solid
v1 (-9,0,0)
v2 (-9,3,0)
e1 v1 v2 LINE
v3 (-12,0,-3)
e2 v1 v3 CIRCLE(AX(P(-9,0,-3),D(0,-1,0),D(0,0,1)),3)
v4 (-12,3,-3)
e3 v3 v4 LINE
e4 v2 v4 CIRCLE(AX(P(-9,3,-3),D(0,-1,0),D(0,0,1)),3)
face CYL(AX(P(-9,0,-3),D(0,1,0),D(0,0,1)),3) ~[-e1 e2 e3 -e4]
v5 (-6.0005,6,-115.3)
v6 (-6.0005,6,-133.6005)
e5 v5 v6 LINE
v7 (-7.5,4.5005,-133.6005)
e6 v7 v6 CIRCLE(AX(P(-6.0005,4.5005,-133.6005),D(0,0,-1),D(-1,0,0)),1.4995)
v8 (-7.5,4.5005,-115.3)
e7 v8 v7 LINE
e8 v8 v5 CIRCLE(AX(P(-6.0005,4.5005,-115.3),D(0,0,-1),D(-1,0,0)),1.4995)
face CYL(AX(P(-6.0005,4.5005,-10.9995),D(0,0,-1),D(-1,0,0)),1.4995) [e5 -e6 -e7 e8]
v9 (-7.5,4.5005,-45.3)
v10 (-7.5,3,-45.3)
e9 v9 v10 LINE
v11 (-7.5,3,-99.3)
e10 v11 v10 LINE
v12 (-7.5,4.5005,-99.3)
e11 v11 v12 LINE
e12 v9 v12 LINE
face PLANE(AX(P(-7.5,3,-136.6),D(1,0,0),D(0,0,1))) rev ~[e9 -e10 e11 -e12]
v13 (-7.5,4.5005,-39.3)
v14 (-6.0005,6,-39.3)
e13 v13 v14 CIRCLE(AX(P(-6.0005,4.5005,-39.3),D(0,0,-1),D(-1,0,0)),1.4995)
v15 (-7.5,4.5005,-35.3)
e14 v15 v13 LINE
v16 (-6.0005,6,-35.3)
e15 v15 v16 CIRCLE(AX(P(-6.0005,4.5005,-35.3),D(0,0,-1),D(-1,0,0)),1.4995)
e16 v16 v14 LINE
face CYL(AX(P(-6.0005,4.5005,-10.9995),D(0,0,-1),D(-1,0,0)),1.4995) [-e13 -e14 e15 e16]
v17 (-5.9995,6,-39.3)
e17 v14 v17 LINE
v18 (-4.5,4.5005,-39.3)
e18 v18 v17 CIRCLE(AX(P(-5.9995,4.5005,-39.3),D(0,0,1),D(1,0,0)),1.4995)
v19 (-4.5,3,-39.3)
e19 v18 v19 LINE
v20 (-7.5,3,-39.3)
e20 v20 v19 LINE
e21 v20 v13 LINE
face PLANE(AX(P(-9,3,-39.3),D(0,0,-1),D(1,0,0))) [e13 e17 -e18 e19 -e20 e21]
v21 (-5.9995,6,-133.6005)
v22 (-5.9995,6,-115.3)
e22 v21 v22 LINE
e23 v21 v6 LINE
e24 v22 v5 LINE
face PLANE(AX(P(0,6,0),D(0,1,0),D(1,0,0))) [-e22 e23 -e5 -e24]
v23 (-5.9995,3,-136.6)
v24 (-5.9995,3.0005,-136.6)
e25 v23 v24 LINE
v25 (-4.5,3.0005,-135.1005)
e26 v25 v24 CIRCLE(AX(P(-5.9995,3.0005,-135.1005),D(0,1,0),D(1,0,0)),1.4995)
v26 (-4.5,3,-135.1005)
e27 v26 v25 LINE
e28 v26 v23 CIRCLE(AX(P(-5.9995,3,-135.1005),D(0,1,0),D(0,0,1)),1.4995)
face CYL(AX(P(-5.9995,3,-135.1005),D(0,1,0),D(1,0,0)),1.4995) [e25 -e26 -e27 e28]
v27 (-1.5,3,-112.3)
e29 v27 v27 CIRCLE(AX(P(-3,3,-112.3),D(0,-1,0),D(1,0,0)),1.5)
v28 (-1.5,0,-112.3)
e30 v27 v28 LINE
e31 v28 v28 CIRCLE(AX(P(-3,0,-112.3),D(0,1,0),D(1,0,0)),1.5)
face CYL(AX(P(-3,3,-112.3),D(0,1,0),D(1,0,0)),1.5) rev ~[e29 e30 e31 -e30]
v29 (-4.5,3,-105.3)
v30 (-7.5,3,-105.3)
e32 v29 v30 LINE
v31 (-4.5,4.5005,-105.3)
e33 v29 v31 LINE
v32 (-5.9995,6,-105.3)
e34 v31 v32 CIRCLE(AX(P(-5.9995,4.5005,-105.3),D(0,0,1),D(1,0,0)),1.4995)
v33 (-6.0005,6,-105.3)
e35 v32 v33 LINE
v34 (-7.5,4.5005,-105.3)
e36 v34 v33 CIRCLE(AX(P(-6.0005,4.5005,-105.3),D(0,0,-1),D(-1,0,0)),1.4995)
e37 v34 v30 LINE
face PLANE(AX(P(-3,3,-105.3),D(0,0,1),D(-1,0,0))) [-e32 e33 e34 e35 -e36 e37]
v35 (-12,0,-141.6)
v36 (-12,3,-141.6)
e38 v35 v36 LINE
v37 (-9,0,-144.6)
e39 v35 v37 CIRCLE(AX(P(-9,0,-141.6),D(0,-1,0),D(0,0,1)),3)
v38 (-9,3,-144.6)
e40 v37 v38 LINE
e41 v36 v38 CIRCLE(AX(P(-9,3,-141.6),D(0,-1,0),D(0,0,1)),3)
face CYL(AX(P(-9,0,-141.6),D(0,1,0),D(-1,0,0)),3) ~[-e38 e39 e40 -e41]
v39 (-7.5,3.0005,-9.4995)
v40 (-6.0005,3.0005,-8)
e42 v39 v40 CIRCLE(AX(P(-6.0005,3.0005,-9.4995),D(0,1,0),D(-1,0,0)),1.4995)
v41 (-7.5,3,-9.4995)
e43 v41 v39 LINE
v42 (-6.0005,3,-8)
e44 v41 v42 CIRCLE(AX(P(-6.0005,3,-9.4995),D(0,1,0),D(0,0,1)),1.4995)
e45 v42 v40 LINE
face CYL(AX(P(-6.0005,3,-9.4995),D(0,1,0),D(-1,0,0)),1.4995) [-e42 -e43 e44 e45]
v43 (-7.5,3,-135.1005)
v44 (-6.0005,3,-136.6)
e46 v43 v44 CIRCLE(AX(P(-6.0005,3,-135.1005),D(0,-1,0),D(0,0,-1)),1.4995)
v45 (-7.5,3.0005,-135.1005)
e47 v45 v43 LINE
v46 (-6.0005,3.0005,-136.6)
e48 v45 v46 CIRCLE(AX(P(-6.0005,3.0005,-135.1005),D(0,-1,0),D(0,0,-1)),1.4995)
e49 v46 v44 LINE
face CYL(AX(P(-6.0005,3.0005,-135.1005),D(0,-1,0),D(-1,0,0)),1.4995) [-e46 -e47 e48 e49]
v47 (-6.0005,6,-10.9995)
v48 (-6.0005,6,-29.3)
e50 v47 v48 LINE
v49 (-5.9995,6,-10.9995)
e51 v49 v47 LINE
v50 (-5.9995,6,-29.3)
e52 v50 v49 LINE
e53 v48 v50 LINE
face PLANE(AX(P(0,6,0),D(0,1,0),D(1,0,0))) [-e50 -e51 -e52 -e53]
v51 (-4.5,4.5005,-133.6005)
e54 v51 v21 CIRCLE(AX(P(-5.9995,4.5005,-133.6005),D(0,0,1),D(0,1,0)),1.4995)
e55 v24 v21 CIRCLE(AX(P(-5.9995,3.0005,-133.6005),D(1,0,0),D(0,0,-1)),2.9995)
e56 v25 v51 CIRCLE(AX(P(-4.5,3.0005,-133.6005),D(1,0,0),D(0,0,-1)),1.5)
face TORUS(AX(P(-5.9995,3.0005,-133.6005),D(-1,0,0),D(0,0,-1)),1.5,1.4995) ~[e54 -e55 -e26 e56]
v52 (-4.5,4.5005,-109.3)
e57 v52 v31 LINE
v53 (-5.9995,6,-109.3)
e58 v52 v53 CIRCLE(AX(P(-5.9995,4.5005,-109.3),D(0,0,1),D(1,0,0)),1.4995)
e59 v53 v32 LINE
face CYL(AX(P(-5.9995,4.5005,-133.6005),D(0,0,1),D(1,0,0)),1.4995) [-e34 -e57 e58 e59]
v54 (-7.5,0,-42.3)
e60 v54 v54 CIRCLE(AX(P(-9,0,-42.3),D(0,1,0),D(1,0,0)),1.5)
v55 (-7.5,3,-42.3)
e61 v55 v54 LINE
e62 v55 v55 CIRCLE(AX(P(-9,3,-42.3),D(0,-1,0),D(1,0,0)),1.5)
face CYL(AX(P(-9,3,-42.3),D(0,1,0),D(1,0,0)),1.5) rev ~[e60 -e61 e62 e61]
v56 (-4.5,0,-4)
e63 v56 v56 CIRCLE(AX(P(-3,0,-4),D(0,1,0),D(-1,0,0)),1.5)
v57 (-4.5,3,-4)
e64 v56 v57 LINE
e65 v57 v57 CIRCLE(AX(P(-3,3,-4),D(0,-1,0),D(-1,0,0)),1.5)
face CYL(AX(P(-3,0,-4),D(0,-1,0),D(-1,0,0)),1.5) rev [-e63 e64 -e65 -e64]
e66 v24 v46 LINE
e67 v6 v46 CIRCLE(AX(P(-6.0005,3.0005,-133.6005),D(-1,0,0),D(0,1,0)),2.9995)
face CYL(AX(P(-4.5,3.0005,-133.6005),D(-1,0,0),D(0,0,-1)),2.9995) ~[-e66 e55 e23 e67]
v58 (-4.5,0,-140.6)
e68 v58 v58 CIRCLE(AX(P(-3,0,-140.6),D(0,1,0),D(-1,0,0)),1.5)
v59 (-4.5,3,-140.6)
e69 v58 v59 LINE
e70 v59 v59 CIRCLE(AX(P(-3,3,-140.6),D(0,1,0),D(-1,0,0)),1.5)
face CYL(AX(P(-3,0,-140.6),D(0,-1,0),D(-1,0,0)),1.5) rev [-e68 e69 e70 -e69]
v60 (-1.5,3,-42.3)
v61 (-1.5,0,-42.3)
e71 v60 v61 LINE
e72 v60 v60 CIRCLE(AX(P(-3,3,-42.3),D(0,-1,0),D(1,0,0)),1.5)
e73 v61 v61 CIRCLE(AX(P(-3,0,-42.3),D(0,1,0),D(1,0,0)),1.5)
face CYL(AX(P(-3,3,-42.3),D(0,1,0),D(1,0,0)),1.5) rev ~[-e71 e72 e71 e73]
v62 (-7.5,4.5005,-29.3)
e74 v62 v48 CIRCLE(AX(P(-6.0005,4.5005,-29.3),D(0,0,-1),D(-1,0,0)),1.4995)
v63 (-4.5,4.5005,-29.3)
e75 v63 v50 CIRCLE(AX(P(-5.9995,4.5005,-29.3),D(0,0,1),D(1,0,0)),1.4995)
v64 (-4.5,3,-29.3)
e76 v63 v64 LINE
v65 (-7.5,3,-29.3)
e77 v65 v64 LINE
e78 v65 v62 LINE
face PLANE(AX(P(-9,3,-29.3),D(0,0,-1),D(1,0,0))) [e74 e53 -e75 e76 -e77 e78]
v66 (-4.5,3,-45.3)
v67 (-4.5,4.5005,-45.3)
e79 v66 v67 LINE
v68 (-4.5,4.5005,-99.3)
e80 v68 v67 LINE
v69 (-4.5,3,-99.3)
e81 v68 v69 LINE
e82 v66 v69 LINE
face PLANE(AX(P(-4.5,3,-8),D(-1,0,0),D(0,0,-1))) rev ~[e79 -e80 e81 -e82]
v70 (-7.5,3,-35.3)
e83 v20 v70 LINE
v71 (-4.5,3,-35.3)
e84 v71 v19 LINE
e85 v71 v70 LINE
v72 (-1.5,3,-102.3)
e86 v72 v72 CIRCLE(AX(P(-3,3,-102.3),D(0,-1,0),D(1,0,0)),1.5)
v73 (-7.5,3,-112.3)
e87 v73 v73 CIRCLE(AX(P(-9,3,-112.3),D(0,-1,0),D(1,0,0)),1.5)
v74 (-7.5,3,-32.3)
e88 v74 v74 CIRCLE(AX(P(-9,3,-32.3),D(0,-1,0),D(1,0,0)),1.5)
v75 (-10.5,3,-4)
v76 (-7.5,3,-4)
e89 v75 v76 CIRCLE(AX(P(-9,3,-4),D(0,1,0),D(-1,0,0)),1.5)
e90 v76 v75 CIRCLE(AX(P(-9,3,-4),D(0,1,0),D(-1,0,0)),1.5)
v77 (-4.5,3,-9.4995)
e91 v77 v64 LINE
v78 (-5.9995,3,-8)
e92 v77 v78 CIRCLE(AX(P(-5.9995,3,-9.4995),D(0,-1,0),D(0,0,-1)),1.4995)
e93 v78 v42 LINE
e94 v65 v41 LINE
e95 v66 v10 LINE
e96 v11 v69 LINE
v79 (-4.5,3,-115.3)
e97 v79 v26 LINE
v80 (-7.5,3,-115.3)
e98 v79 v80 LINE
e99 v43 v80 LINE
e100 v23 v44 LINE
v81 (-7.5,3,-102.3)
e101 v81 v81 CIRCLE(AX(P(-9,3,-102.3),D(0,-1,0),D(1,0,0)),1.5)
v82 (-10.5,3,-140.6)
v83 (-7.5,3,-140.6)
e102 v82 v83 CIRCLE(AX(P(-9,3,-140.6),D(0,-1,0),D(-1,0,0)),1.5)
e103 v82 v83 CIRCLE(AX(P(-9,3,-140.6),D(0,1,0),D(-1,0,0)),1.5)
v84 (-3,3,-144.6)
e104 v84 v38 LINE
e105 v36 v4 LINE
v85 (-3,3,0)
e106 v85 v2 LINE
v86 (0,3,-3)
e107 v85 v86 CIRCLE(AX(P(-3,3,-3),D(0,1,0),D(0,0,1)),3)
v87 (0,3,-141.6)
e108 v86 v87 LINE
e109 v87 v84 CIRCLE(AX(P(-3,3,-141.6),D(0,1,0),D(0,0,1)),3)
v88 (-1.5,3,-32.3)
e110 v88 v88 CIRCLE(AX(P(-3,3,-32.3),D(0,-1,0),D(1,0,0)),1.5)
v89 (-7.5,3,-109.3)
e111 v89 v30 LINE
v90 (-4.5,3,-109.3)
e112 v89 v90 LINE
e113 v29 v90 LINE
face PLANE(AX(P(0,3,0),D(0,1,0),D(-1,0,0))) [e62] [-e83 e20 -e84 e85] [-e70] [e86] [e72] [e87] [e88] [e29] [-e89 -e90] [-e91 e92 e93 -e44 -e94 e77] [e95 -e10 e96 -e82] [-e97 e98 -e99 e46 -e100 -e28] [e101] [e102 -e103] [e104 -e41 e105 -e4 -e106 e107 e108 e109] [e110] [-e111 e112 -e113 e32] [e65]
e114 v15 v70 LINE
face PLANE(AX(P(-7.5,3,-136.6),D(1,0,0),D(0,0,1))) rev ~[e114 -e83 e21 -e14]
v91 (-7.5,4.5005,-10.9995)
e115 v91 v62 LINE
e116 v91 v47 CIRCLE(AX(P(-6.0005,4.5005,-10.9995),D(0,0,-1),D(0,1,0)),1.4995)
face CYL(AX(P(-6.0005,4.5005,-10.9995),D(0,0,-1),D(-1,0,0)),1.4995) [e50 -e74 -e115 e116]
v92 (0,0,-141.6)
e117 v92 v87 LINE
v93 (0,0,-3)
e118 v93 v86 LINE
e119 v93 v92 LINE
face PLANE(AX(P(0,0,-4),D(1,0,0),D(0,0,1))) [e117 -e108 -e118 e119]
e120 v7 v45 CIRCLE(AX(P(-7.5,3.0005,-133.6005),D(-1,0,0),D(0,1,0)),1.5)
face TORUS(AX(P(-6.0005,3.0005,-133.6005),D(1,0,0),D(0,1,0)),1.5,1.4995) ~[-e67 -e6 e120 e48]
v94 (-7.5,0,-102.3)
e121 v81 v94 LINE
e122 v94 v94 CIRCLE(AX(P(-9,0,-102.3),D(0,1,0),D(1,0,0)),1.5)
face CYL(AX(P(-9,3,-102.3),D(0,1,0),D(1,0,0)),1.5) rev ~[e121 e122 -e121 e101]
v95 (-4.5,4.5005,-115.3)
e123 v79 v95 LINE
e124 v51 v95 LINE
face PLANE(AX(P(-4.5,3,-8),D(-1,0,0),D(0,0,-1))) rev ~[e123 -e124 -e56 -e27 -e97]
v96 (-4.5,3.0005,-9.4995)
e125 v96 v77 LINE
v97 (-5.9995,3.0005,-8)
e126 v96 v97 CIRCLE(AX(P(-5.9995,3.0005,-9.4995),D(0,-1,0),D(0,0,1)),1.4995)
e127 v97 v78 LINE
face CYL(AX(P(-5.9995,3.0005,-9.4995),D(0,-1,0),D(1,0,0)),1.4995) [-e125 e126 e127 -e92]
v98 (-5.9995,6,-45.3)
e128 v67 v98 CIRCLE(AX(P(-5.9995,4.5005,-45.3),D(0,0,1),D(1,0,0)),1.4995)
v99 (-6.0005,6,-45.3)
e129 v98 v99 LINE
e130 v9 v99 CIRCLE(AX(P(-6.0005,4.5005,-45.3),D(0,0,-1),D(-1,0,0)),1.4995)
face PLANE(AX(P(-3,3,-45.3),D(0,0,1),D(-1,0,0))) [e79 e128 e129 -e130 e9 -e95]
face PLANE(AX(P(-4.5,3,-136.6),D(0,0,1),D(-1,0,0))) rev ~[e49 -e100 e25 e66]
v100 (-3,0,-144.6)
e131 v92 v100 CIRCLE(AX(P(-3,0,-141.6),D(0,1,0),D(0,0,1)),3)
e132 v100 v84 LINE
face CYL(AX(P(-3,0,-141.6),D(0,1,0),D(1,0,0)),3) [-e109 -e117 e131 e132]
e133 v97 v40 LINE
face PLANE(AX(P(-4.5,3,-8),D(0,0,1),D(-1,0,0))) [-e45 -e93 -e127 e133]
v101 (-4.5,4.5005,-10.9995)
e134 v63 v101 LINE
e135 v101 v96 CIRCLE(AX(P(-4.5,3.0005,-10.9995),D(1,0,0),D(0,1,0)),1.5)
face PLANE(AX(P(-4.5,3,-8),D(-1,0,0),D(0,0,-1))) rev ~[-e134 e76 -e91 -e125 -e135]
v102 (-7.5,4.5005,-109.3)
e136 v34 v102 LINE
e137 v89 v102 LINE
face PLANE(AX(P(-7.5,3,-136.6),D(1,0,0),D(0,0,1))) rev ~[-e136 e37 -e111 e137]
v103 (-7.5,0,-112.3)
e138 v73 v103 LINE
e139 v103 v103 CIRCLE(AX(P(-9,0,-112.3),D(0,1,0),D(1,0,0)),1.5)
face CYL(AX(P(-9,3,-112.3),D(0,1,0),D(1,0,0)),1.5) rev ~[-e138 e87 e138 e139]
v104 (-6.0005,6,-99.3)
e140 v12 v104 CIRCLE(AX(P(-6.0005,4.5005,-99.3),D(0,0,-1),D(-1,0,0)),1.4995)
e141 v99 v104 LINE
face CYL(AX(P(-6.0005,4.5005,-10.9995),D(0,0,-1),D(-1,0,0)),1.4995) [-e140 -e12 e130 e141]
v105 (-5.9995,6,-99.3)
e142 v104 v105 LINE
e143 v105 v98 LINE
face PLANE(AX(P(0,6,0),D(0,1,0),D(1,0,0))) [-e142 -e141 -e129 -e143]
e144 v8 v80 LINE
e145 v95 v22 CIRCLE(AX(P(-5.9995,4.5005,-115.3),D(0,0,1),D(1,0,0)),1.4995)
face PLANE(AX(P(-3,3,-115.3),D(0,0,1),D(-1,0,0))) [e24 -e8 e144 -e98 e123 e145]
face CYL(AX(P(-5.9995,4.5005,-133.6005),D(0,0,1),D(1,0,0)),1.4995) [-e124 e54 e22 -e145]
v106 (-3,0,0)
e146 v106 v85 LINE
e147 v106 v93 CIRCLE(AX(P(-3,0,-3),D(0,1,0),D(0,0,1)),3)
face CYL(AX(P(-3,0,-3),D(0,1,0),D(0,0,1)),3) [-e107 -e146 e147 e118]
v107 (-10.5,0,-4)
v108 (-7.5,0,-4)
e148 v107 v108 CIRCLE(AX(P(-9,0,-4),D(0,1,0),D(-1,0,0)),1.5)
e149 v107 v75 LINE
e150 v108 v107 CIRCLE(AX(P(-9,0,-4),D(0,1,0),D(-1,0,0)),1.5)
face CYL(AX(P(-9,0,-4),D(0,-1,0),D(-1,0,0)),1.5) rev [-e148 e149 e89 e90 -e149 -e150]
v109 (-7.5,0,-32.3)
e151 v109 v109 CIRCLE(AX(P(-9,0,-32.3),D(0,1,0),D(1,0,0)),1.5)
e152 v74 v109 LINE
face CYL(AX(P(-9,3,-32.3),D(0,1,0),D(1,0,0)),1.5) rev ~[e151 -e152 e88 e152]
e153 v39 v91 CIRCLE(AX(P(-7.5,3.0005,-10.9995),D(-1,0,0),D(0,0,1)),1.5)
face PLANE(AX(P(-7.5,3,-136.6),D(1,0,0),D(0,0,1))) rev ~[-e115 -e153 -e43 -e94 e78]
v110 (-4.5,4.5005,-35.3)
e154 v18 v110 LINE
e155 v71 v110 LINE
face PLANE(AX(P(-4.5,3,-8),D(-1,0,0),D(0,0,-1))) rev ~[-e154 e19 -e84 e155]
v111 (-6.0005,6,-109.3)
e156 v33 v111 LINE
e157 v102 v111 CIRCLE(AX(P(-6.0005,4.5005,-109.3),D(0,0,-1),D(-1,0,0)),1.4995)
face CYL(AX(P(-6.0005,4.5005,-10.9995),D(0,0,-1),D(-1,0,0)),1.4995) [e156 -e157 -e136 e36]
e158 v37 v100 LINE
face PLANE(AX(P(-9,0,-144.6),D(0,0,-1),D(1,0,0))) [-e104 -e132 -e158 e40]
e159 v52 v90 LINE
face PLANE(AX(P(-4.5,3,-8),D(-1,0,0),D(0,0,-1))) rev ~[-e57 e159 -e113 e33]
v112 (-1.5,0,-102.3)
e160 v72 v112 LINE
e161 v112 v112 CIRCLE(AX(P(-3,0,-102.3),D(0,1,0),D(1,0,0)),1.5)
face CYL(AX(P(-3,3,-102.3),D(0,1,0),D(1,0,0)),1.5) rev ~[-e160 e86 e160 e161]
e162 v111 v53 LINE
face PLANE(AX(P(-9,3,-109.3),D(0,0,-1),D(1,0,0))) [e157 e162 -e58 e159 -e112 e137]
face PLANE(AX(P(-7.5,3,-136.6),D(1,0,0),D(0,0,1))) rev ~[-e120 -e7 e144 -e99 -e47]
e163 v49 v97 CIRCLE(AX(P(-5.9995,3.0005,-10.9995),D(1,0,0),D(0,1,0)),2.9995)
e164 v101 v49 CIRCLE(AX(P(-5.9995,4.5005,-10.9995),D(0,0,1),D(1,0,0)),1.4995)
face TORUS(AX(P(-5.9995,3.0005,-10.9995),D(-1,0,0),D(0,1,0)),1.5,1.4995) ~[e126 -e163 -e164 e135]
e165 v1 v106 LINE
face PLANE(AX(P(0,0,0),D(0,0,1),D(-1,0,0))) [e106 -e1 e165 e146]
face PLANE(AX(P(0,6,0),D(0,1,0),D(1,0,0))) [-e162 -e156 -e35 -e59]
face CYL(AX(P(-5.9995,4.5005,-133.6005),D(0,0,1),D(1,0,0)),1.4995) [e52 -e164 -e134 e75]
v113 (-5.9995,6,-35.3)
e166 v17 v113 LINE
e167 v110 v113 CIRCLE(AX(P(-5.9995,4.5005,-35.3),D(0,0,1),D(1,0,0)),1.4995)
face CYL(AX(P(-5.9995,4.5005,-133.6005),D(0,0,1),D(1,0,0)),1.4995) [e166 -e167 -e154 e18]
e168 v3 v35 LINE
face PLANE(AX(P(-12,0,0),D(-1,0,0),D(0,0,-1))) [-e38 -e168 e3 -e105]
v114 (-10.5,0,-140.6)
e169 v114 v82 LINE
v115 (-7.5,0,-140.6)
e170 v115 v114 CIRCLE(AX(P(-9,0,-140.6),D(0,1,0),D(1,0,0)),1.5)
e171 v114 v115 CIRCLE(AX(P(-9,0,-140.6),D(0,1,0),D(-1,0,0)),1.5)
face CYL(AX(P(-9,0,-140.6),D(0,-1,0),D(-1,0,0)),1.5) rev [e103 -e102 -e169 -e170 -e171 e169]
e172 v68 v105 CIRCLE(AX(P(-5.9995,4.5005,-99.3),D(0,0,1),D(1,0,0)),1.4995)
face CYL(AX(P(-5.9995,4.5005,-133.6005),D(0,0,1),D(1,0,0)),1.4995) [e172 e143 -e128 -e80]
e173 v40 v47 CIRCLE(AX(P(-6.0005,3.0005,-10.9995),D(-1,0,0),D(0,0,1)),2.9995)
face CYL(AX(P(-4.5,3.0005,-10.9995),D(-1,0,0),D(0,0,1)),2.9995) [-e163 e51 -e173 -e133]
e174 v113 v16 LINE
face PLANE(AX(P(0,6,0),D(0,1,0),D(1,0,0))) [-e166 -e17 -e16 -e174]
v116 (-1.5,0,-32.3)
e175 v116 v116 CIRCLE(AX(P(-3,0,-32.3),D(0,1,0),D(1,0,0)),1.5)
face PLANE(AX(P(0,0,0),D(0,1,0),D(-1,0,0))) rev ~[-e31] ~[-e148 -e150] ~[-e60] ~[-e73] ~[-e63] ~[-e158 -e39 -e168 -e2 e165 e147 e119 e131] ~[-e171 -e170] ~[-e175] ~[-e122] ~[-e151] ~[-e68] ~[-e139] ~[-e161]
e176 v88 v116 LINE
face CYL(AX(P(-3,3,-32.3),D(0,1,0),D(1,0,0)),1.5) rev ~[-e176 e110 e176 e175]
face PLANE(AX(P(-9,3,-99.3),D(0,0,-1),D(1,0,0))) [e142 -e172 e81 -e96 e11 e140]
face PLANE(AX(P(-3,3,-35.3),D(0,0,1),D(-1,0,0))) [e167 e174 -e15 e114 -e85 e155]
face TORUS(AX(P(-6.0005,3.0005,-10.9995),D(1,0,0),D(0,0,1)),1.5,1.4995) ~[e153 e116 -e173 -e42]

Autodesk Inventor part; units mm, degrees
ref_plane "YZ Plane" through (0, 0, 0) normal (1, 0, 0) x (0, 1, 0)
ref_plane "XZ Plane" through (0, 0, 0) normal (0, 1, 0) x (-1, 0, 0)
ref_plane "XY Plane" through (0, 0, 0) normal (0, 0, 1) x (1, 0, 0)
sketch "Sketch1" plane through (0, 0, 0) normal (0, 1, 0) x (-1, 0, 0)
  line L0 (0, 0) -> (12, 0)
  line L1 (12, 0) -> (12, -144.6)
  line L2 (12, -144.6) -> (0, -144.6)
  line L3 (0, -144.6) -> (0, 0)
  line L4 (0, 0) -> (3, 0)
  line L5 (3, 0) -> (3, -4)
  line L6 (3, -4) -> (0, -4)
  line L7 (0, -4) -> (0, 0)
  line L8 (3, -4) -> (9, -4)
  circle A0 centre (9, -4) radius 1.5
  circle A1 centre (3, -4) radius 1.5
  line L9 (12, -144.6) -> (9, -144.6)
  line L10 (9, -144.6) -> (9, -140.6)
  line L11 (9, -140.6) -> (12, -140.6)
  line L12 (12, -140.6) -> (12, -144.6)
  line L13 (9, -140.6) -> (3, -140.6)
  circle A2 centre (9, -140.6) radius 1.5
  circle A3 centre (3, -140.6) radius 1.5
  dimension "d0" = 12
  dimension "d1" = 144.6
  dimension "d2" = 3
  dimension "d3" = 4
  dimension "d4" = 6
  dimension "d5" = 3
  dimension "d6" = 3
  dimension "d7" = 3
  dimension "d8" = 4
  dimension "d9" = 6
  dimension "d10" = 3
  dimension "d11" = 3
extrude "Extrusion1" add sketch "Sketch1" along normal blind 3 contours L0 L5 A1 L6 L3 | L0 L1 L11 A2 L10 L2 L3 L6 A1 L5 | L1 L2 L10 A2 L11
sketch "Sketch2" plane through (0, 3, 0) normal (0, 1, 0) x (1, 0, 0)
  line L0 (-12, 0) -> (0, 0) projected
  line L1 (-6, 0) -> (-6, 144.6) construction
  line L2 (0, 144.6) -> (-12, 144.6) projected
  line L3 (-4.5, 0) -> (-4.5, 144.6)
  line L4 (-7.5, 144.6) -> (-7.5, 0)
  arc A0 (-7.5, 0) -> (-4.5, 0) centre (-6, 0) ccw
  arc A1 (-4.5, 144.6) -> (-7.5, 144.6) centre (-6, 144.6) ccw
  line L5 (0, 0) -> (0, 144.6) projected
  line L6 (-12, 0) -> (0, 0)
  line L7 (0, 0) -> (0, 8)
  line L8 (0, 8) -> (-12, 8)
  line L9 (-12, 8) -> (-12, 0)
  line L10 (-12, 144.6) -> (0, 144.6)
  line L11 (0, 144.6) -> (0, 136.6)
  line L12 (0, 136.6) -> (-12, 136.6)
  line L13 (-12, 136.6) -> (-12, 144.6)
  point P0 (-6, 72.3)
  point P1 (-4.5, 136.6)
  point P2 (-7.5, 136.6)
  point P3 (-7.5, 8)
  point P4 (-4.5, 8)
  dimension "d14" = 3
  dimension "d15" = 8
  dimension "d16" = 8
extrude "Extrusion2" add sketch "Sketch2" along normal blind 3 contours L4 L12 L3 L8
fillet "Fillet1" radius 3 2 edges at (-6, 6, -8) (-6, 6, -136.6)
fillet "Fillet2" radius 3 4 edges at (0, 1.5, 0) (-12, 1.5, 0) (-12, 1.5, -144.6) (0, 1.5, -144.6)
fillet "Fillet3" radius 1.5 6 edges at (-7.5, 5.1215, -8.8785) (-7.5, 5.1215, -135.7215) (-7.5, 6, -72.3) (-4.5, 5.1215, -135.7215) (-4.5, 5.1215, -8.8785) (-4.5, 6, -72.3)
sketch "Sketch3" plane through (0, 3, 0) normal (0, 1, 0) x (1, 0, 0)
  line L0 (-12, 141.6) -> (-12, 3) projected
  line L1 (-12, 72.3) -> (-6, 72.3)
  line L2 (-9, 42.3) -> (-3, 42.3)
  line L3 (-3, 42.3) -> (-3, 102.3)
  line L4 (-3, 102.3) -> (-9, 102.3)
  line L5 (-9, 102.3) -> (-9, 42.3)
  line L6 (-9, 42.3) -> (-3, 102.3) construction
  line L7 (-3, 42.3) -> (-9, 102.3) construction
  line L8 (-9, 32.3) -> (-3, 32.3)
  line L9 (-3, 32.3) -> (-3, 112.3)
  line L10 (-3, 112.3) -> (-9, 112.3)
  line L11 (-9, 112.3) -> (-9, 32.3)
  line L12 (-9, 32.3) -> (-3, 112.3) construction
  line L13 (-3, 32.3) -> (-9, 112.3) construction
  line L14 (-9, 112.3) -> (-3, 112.3) construction
  line L15 (-9, 109.3) -> (-3, 109.3)
  line L16 (-3, 115.3) -> (-9, 115.3)
  arc A0 (-9, 115.3) -> (-9, 109.3) centre (-9, 112.3) ccw
  arc A1 (-3, 109.3) -> (-3, 115.3) centre (-3, 112.3) ccw
  circle A2 centre (-9, 112.3) radius 1.5
  circle A3 centre (-3, 112.3) radius 1.5
  circle A4 centre (-9, 102.3) radius 1.5
  circle A5 centre (-3, 102.3) radius 1.5
  line L17 (-9, 102.3) -> (-3, 102.3) construction
  line L18 (-9, 99.3) -> (-3, 99.3)
  line L19 (-3, 105.3) -> (-9, 105.3)
  arc A6 (-9, 105.3) -> (-9, 99.3) centre (-9, 102.3) ccw
  arc A7 (-3, 99.3) -> (-3, 105.3) centre (-3, 102.3) ccw
  line L20 (-3, 32.3) -> (-9, 32.3)
  line L21 (-3, 42.3) -> (-9, 42.3)
  line L22 (-9, 42.3) -> (-3, 42.3) construction
  line L23 (-9, 39.3) -> (-3, 39.3)
  line L24 (-3, 45.3) -> (-9, 45.3)
  arc A8 (-9, 45.3) -> (-9, 39.3) centre (-9, 42.3) ccw
  arc A9 (-3, 39.3) -> (-3, 45.3) centre (-3, 42.3) ccw
  circle A10 centre (-9, 42.3) radius 1.5
  circle A11 centre (-3, 42.3) radius 1.5
  circle A12 centre (-9, 32.3) radius 1.5
  circle A13 centre (-3, 32.3) radius 1.5
  line L25 (-9, 32.3) -> (-3, 32.3) construction
  line L26 (-9, 29.3) -> (-3, 29.3)
  line L27 (-3, 35.3) -> (-9, 35.3)
  arc A14 (-9, 35.3) -> (-9, 29.3) centre (-9, 32.3) ccw
  arc A15 (-3, 29.3) -> (-3, 35.3) centre (-3, 32.3) ccw
  point P0 (0, 0)
  point P1 (-6, 112.3)
  point P2 (-6, 102.3)
  point P3 (-6, 42.3)
  point P4 (-6, 32.3)
  dimension "d22" = 6
  dimension "d23" = 6
  dimension "d24" = 60
  dimension "d25" = 6
  dimension "d26" = 80
  dimension "d27" = 6
  dimension "d28" = 3
  dimension "d29" = 3
  dimension "d30" = 3
  dimension "d31" = 3
  dimension "d32" = 6
  dimension "d33" = 6
  dimension "d34" = 6
  dimension "d35" = 6
  dimension "d36" = 3
  dimension "d37" = 3
  dimension "d38" = 3
  dimension "d39" = 3
  dimension "d40" = 6
extrude "Extrusion3" cut sketch "Sketch3" along normal blind 3 contours A0 L16 A1 L9 A3 L10 A2 L11 | A6 L11 A4 L5 | L11 A2 L10 A3 L9 L15 | L19 L9 A5 L4 A4 L11 | L5 A4 L4 A5 L3 L18 | A8 L5 A10 L11 | A7 L3 A5 L9 | A14 L11 A12 L8 A13 L9 A15 L26 | L24 L3 A11 L2 A10 L5 | L11 A10 L2 A11 L9 L23 | A9 L9 A11 L3 | L27 L9 A13 L8 A12 L11
extrude "Extrusion4" cut sketch "Sketch3" against normal blind 3 contours A2 L10 L11 | L11 L10 A2 | A4 L4 L11 | L11 L5 A4 | L5 L4 A4 | A3 L10 L9 | L9 L10 A3 | A5 L3 L9 | L9 L4 A5 | A5 L4 L3 | A10 L2 L5 | L5 L11 A10 | L11 L2 A10 | A11 L9 L3 | L3 L2 A11 | A12 L8 L11 | L11 L8 A12 | A11 L2 L9 | A13 L8 L9 | L9 L8 A13
properties part number "structural_bar1"
